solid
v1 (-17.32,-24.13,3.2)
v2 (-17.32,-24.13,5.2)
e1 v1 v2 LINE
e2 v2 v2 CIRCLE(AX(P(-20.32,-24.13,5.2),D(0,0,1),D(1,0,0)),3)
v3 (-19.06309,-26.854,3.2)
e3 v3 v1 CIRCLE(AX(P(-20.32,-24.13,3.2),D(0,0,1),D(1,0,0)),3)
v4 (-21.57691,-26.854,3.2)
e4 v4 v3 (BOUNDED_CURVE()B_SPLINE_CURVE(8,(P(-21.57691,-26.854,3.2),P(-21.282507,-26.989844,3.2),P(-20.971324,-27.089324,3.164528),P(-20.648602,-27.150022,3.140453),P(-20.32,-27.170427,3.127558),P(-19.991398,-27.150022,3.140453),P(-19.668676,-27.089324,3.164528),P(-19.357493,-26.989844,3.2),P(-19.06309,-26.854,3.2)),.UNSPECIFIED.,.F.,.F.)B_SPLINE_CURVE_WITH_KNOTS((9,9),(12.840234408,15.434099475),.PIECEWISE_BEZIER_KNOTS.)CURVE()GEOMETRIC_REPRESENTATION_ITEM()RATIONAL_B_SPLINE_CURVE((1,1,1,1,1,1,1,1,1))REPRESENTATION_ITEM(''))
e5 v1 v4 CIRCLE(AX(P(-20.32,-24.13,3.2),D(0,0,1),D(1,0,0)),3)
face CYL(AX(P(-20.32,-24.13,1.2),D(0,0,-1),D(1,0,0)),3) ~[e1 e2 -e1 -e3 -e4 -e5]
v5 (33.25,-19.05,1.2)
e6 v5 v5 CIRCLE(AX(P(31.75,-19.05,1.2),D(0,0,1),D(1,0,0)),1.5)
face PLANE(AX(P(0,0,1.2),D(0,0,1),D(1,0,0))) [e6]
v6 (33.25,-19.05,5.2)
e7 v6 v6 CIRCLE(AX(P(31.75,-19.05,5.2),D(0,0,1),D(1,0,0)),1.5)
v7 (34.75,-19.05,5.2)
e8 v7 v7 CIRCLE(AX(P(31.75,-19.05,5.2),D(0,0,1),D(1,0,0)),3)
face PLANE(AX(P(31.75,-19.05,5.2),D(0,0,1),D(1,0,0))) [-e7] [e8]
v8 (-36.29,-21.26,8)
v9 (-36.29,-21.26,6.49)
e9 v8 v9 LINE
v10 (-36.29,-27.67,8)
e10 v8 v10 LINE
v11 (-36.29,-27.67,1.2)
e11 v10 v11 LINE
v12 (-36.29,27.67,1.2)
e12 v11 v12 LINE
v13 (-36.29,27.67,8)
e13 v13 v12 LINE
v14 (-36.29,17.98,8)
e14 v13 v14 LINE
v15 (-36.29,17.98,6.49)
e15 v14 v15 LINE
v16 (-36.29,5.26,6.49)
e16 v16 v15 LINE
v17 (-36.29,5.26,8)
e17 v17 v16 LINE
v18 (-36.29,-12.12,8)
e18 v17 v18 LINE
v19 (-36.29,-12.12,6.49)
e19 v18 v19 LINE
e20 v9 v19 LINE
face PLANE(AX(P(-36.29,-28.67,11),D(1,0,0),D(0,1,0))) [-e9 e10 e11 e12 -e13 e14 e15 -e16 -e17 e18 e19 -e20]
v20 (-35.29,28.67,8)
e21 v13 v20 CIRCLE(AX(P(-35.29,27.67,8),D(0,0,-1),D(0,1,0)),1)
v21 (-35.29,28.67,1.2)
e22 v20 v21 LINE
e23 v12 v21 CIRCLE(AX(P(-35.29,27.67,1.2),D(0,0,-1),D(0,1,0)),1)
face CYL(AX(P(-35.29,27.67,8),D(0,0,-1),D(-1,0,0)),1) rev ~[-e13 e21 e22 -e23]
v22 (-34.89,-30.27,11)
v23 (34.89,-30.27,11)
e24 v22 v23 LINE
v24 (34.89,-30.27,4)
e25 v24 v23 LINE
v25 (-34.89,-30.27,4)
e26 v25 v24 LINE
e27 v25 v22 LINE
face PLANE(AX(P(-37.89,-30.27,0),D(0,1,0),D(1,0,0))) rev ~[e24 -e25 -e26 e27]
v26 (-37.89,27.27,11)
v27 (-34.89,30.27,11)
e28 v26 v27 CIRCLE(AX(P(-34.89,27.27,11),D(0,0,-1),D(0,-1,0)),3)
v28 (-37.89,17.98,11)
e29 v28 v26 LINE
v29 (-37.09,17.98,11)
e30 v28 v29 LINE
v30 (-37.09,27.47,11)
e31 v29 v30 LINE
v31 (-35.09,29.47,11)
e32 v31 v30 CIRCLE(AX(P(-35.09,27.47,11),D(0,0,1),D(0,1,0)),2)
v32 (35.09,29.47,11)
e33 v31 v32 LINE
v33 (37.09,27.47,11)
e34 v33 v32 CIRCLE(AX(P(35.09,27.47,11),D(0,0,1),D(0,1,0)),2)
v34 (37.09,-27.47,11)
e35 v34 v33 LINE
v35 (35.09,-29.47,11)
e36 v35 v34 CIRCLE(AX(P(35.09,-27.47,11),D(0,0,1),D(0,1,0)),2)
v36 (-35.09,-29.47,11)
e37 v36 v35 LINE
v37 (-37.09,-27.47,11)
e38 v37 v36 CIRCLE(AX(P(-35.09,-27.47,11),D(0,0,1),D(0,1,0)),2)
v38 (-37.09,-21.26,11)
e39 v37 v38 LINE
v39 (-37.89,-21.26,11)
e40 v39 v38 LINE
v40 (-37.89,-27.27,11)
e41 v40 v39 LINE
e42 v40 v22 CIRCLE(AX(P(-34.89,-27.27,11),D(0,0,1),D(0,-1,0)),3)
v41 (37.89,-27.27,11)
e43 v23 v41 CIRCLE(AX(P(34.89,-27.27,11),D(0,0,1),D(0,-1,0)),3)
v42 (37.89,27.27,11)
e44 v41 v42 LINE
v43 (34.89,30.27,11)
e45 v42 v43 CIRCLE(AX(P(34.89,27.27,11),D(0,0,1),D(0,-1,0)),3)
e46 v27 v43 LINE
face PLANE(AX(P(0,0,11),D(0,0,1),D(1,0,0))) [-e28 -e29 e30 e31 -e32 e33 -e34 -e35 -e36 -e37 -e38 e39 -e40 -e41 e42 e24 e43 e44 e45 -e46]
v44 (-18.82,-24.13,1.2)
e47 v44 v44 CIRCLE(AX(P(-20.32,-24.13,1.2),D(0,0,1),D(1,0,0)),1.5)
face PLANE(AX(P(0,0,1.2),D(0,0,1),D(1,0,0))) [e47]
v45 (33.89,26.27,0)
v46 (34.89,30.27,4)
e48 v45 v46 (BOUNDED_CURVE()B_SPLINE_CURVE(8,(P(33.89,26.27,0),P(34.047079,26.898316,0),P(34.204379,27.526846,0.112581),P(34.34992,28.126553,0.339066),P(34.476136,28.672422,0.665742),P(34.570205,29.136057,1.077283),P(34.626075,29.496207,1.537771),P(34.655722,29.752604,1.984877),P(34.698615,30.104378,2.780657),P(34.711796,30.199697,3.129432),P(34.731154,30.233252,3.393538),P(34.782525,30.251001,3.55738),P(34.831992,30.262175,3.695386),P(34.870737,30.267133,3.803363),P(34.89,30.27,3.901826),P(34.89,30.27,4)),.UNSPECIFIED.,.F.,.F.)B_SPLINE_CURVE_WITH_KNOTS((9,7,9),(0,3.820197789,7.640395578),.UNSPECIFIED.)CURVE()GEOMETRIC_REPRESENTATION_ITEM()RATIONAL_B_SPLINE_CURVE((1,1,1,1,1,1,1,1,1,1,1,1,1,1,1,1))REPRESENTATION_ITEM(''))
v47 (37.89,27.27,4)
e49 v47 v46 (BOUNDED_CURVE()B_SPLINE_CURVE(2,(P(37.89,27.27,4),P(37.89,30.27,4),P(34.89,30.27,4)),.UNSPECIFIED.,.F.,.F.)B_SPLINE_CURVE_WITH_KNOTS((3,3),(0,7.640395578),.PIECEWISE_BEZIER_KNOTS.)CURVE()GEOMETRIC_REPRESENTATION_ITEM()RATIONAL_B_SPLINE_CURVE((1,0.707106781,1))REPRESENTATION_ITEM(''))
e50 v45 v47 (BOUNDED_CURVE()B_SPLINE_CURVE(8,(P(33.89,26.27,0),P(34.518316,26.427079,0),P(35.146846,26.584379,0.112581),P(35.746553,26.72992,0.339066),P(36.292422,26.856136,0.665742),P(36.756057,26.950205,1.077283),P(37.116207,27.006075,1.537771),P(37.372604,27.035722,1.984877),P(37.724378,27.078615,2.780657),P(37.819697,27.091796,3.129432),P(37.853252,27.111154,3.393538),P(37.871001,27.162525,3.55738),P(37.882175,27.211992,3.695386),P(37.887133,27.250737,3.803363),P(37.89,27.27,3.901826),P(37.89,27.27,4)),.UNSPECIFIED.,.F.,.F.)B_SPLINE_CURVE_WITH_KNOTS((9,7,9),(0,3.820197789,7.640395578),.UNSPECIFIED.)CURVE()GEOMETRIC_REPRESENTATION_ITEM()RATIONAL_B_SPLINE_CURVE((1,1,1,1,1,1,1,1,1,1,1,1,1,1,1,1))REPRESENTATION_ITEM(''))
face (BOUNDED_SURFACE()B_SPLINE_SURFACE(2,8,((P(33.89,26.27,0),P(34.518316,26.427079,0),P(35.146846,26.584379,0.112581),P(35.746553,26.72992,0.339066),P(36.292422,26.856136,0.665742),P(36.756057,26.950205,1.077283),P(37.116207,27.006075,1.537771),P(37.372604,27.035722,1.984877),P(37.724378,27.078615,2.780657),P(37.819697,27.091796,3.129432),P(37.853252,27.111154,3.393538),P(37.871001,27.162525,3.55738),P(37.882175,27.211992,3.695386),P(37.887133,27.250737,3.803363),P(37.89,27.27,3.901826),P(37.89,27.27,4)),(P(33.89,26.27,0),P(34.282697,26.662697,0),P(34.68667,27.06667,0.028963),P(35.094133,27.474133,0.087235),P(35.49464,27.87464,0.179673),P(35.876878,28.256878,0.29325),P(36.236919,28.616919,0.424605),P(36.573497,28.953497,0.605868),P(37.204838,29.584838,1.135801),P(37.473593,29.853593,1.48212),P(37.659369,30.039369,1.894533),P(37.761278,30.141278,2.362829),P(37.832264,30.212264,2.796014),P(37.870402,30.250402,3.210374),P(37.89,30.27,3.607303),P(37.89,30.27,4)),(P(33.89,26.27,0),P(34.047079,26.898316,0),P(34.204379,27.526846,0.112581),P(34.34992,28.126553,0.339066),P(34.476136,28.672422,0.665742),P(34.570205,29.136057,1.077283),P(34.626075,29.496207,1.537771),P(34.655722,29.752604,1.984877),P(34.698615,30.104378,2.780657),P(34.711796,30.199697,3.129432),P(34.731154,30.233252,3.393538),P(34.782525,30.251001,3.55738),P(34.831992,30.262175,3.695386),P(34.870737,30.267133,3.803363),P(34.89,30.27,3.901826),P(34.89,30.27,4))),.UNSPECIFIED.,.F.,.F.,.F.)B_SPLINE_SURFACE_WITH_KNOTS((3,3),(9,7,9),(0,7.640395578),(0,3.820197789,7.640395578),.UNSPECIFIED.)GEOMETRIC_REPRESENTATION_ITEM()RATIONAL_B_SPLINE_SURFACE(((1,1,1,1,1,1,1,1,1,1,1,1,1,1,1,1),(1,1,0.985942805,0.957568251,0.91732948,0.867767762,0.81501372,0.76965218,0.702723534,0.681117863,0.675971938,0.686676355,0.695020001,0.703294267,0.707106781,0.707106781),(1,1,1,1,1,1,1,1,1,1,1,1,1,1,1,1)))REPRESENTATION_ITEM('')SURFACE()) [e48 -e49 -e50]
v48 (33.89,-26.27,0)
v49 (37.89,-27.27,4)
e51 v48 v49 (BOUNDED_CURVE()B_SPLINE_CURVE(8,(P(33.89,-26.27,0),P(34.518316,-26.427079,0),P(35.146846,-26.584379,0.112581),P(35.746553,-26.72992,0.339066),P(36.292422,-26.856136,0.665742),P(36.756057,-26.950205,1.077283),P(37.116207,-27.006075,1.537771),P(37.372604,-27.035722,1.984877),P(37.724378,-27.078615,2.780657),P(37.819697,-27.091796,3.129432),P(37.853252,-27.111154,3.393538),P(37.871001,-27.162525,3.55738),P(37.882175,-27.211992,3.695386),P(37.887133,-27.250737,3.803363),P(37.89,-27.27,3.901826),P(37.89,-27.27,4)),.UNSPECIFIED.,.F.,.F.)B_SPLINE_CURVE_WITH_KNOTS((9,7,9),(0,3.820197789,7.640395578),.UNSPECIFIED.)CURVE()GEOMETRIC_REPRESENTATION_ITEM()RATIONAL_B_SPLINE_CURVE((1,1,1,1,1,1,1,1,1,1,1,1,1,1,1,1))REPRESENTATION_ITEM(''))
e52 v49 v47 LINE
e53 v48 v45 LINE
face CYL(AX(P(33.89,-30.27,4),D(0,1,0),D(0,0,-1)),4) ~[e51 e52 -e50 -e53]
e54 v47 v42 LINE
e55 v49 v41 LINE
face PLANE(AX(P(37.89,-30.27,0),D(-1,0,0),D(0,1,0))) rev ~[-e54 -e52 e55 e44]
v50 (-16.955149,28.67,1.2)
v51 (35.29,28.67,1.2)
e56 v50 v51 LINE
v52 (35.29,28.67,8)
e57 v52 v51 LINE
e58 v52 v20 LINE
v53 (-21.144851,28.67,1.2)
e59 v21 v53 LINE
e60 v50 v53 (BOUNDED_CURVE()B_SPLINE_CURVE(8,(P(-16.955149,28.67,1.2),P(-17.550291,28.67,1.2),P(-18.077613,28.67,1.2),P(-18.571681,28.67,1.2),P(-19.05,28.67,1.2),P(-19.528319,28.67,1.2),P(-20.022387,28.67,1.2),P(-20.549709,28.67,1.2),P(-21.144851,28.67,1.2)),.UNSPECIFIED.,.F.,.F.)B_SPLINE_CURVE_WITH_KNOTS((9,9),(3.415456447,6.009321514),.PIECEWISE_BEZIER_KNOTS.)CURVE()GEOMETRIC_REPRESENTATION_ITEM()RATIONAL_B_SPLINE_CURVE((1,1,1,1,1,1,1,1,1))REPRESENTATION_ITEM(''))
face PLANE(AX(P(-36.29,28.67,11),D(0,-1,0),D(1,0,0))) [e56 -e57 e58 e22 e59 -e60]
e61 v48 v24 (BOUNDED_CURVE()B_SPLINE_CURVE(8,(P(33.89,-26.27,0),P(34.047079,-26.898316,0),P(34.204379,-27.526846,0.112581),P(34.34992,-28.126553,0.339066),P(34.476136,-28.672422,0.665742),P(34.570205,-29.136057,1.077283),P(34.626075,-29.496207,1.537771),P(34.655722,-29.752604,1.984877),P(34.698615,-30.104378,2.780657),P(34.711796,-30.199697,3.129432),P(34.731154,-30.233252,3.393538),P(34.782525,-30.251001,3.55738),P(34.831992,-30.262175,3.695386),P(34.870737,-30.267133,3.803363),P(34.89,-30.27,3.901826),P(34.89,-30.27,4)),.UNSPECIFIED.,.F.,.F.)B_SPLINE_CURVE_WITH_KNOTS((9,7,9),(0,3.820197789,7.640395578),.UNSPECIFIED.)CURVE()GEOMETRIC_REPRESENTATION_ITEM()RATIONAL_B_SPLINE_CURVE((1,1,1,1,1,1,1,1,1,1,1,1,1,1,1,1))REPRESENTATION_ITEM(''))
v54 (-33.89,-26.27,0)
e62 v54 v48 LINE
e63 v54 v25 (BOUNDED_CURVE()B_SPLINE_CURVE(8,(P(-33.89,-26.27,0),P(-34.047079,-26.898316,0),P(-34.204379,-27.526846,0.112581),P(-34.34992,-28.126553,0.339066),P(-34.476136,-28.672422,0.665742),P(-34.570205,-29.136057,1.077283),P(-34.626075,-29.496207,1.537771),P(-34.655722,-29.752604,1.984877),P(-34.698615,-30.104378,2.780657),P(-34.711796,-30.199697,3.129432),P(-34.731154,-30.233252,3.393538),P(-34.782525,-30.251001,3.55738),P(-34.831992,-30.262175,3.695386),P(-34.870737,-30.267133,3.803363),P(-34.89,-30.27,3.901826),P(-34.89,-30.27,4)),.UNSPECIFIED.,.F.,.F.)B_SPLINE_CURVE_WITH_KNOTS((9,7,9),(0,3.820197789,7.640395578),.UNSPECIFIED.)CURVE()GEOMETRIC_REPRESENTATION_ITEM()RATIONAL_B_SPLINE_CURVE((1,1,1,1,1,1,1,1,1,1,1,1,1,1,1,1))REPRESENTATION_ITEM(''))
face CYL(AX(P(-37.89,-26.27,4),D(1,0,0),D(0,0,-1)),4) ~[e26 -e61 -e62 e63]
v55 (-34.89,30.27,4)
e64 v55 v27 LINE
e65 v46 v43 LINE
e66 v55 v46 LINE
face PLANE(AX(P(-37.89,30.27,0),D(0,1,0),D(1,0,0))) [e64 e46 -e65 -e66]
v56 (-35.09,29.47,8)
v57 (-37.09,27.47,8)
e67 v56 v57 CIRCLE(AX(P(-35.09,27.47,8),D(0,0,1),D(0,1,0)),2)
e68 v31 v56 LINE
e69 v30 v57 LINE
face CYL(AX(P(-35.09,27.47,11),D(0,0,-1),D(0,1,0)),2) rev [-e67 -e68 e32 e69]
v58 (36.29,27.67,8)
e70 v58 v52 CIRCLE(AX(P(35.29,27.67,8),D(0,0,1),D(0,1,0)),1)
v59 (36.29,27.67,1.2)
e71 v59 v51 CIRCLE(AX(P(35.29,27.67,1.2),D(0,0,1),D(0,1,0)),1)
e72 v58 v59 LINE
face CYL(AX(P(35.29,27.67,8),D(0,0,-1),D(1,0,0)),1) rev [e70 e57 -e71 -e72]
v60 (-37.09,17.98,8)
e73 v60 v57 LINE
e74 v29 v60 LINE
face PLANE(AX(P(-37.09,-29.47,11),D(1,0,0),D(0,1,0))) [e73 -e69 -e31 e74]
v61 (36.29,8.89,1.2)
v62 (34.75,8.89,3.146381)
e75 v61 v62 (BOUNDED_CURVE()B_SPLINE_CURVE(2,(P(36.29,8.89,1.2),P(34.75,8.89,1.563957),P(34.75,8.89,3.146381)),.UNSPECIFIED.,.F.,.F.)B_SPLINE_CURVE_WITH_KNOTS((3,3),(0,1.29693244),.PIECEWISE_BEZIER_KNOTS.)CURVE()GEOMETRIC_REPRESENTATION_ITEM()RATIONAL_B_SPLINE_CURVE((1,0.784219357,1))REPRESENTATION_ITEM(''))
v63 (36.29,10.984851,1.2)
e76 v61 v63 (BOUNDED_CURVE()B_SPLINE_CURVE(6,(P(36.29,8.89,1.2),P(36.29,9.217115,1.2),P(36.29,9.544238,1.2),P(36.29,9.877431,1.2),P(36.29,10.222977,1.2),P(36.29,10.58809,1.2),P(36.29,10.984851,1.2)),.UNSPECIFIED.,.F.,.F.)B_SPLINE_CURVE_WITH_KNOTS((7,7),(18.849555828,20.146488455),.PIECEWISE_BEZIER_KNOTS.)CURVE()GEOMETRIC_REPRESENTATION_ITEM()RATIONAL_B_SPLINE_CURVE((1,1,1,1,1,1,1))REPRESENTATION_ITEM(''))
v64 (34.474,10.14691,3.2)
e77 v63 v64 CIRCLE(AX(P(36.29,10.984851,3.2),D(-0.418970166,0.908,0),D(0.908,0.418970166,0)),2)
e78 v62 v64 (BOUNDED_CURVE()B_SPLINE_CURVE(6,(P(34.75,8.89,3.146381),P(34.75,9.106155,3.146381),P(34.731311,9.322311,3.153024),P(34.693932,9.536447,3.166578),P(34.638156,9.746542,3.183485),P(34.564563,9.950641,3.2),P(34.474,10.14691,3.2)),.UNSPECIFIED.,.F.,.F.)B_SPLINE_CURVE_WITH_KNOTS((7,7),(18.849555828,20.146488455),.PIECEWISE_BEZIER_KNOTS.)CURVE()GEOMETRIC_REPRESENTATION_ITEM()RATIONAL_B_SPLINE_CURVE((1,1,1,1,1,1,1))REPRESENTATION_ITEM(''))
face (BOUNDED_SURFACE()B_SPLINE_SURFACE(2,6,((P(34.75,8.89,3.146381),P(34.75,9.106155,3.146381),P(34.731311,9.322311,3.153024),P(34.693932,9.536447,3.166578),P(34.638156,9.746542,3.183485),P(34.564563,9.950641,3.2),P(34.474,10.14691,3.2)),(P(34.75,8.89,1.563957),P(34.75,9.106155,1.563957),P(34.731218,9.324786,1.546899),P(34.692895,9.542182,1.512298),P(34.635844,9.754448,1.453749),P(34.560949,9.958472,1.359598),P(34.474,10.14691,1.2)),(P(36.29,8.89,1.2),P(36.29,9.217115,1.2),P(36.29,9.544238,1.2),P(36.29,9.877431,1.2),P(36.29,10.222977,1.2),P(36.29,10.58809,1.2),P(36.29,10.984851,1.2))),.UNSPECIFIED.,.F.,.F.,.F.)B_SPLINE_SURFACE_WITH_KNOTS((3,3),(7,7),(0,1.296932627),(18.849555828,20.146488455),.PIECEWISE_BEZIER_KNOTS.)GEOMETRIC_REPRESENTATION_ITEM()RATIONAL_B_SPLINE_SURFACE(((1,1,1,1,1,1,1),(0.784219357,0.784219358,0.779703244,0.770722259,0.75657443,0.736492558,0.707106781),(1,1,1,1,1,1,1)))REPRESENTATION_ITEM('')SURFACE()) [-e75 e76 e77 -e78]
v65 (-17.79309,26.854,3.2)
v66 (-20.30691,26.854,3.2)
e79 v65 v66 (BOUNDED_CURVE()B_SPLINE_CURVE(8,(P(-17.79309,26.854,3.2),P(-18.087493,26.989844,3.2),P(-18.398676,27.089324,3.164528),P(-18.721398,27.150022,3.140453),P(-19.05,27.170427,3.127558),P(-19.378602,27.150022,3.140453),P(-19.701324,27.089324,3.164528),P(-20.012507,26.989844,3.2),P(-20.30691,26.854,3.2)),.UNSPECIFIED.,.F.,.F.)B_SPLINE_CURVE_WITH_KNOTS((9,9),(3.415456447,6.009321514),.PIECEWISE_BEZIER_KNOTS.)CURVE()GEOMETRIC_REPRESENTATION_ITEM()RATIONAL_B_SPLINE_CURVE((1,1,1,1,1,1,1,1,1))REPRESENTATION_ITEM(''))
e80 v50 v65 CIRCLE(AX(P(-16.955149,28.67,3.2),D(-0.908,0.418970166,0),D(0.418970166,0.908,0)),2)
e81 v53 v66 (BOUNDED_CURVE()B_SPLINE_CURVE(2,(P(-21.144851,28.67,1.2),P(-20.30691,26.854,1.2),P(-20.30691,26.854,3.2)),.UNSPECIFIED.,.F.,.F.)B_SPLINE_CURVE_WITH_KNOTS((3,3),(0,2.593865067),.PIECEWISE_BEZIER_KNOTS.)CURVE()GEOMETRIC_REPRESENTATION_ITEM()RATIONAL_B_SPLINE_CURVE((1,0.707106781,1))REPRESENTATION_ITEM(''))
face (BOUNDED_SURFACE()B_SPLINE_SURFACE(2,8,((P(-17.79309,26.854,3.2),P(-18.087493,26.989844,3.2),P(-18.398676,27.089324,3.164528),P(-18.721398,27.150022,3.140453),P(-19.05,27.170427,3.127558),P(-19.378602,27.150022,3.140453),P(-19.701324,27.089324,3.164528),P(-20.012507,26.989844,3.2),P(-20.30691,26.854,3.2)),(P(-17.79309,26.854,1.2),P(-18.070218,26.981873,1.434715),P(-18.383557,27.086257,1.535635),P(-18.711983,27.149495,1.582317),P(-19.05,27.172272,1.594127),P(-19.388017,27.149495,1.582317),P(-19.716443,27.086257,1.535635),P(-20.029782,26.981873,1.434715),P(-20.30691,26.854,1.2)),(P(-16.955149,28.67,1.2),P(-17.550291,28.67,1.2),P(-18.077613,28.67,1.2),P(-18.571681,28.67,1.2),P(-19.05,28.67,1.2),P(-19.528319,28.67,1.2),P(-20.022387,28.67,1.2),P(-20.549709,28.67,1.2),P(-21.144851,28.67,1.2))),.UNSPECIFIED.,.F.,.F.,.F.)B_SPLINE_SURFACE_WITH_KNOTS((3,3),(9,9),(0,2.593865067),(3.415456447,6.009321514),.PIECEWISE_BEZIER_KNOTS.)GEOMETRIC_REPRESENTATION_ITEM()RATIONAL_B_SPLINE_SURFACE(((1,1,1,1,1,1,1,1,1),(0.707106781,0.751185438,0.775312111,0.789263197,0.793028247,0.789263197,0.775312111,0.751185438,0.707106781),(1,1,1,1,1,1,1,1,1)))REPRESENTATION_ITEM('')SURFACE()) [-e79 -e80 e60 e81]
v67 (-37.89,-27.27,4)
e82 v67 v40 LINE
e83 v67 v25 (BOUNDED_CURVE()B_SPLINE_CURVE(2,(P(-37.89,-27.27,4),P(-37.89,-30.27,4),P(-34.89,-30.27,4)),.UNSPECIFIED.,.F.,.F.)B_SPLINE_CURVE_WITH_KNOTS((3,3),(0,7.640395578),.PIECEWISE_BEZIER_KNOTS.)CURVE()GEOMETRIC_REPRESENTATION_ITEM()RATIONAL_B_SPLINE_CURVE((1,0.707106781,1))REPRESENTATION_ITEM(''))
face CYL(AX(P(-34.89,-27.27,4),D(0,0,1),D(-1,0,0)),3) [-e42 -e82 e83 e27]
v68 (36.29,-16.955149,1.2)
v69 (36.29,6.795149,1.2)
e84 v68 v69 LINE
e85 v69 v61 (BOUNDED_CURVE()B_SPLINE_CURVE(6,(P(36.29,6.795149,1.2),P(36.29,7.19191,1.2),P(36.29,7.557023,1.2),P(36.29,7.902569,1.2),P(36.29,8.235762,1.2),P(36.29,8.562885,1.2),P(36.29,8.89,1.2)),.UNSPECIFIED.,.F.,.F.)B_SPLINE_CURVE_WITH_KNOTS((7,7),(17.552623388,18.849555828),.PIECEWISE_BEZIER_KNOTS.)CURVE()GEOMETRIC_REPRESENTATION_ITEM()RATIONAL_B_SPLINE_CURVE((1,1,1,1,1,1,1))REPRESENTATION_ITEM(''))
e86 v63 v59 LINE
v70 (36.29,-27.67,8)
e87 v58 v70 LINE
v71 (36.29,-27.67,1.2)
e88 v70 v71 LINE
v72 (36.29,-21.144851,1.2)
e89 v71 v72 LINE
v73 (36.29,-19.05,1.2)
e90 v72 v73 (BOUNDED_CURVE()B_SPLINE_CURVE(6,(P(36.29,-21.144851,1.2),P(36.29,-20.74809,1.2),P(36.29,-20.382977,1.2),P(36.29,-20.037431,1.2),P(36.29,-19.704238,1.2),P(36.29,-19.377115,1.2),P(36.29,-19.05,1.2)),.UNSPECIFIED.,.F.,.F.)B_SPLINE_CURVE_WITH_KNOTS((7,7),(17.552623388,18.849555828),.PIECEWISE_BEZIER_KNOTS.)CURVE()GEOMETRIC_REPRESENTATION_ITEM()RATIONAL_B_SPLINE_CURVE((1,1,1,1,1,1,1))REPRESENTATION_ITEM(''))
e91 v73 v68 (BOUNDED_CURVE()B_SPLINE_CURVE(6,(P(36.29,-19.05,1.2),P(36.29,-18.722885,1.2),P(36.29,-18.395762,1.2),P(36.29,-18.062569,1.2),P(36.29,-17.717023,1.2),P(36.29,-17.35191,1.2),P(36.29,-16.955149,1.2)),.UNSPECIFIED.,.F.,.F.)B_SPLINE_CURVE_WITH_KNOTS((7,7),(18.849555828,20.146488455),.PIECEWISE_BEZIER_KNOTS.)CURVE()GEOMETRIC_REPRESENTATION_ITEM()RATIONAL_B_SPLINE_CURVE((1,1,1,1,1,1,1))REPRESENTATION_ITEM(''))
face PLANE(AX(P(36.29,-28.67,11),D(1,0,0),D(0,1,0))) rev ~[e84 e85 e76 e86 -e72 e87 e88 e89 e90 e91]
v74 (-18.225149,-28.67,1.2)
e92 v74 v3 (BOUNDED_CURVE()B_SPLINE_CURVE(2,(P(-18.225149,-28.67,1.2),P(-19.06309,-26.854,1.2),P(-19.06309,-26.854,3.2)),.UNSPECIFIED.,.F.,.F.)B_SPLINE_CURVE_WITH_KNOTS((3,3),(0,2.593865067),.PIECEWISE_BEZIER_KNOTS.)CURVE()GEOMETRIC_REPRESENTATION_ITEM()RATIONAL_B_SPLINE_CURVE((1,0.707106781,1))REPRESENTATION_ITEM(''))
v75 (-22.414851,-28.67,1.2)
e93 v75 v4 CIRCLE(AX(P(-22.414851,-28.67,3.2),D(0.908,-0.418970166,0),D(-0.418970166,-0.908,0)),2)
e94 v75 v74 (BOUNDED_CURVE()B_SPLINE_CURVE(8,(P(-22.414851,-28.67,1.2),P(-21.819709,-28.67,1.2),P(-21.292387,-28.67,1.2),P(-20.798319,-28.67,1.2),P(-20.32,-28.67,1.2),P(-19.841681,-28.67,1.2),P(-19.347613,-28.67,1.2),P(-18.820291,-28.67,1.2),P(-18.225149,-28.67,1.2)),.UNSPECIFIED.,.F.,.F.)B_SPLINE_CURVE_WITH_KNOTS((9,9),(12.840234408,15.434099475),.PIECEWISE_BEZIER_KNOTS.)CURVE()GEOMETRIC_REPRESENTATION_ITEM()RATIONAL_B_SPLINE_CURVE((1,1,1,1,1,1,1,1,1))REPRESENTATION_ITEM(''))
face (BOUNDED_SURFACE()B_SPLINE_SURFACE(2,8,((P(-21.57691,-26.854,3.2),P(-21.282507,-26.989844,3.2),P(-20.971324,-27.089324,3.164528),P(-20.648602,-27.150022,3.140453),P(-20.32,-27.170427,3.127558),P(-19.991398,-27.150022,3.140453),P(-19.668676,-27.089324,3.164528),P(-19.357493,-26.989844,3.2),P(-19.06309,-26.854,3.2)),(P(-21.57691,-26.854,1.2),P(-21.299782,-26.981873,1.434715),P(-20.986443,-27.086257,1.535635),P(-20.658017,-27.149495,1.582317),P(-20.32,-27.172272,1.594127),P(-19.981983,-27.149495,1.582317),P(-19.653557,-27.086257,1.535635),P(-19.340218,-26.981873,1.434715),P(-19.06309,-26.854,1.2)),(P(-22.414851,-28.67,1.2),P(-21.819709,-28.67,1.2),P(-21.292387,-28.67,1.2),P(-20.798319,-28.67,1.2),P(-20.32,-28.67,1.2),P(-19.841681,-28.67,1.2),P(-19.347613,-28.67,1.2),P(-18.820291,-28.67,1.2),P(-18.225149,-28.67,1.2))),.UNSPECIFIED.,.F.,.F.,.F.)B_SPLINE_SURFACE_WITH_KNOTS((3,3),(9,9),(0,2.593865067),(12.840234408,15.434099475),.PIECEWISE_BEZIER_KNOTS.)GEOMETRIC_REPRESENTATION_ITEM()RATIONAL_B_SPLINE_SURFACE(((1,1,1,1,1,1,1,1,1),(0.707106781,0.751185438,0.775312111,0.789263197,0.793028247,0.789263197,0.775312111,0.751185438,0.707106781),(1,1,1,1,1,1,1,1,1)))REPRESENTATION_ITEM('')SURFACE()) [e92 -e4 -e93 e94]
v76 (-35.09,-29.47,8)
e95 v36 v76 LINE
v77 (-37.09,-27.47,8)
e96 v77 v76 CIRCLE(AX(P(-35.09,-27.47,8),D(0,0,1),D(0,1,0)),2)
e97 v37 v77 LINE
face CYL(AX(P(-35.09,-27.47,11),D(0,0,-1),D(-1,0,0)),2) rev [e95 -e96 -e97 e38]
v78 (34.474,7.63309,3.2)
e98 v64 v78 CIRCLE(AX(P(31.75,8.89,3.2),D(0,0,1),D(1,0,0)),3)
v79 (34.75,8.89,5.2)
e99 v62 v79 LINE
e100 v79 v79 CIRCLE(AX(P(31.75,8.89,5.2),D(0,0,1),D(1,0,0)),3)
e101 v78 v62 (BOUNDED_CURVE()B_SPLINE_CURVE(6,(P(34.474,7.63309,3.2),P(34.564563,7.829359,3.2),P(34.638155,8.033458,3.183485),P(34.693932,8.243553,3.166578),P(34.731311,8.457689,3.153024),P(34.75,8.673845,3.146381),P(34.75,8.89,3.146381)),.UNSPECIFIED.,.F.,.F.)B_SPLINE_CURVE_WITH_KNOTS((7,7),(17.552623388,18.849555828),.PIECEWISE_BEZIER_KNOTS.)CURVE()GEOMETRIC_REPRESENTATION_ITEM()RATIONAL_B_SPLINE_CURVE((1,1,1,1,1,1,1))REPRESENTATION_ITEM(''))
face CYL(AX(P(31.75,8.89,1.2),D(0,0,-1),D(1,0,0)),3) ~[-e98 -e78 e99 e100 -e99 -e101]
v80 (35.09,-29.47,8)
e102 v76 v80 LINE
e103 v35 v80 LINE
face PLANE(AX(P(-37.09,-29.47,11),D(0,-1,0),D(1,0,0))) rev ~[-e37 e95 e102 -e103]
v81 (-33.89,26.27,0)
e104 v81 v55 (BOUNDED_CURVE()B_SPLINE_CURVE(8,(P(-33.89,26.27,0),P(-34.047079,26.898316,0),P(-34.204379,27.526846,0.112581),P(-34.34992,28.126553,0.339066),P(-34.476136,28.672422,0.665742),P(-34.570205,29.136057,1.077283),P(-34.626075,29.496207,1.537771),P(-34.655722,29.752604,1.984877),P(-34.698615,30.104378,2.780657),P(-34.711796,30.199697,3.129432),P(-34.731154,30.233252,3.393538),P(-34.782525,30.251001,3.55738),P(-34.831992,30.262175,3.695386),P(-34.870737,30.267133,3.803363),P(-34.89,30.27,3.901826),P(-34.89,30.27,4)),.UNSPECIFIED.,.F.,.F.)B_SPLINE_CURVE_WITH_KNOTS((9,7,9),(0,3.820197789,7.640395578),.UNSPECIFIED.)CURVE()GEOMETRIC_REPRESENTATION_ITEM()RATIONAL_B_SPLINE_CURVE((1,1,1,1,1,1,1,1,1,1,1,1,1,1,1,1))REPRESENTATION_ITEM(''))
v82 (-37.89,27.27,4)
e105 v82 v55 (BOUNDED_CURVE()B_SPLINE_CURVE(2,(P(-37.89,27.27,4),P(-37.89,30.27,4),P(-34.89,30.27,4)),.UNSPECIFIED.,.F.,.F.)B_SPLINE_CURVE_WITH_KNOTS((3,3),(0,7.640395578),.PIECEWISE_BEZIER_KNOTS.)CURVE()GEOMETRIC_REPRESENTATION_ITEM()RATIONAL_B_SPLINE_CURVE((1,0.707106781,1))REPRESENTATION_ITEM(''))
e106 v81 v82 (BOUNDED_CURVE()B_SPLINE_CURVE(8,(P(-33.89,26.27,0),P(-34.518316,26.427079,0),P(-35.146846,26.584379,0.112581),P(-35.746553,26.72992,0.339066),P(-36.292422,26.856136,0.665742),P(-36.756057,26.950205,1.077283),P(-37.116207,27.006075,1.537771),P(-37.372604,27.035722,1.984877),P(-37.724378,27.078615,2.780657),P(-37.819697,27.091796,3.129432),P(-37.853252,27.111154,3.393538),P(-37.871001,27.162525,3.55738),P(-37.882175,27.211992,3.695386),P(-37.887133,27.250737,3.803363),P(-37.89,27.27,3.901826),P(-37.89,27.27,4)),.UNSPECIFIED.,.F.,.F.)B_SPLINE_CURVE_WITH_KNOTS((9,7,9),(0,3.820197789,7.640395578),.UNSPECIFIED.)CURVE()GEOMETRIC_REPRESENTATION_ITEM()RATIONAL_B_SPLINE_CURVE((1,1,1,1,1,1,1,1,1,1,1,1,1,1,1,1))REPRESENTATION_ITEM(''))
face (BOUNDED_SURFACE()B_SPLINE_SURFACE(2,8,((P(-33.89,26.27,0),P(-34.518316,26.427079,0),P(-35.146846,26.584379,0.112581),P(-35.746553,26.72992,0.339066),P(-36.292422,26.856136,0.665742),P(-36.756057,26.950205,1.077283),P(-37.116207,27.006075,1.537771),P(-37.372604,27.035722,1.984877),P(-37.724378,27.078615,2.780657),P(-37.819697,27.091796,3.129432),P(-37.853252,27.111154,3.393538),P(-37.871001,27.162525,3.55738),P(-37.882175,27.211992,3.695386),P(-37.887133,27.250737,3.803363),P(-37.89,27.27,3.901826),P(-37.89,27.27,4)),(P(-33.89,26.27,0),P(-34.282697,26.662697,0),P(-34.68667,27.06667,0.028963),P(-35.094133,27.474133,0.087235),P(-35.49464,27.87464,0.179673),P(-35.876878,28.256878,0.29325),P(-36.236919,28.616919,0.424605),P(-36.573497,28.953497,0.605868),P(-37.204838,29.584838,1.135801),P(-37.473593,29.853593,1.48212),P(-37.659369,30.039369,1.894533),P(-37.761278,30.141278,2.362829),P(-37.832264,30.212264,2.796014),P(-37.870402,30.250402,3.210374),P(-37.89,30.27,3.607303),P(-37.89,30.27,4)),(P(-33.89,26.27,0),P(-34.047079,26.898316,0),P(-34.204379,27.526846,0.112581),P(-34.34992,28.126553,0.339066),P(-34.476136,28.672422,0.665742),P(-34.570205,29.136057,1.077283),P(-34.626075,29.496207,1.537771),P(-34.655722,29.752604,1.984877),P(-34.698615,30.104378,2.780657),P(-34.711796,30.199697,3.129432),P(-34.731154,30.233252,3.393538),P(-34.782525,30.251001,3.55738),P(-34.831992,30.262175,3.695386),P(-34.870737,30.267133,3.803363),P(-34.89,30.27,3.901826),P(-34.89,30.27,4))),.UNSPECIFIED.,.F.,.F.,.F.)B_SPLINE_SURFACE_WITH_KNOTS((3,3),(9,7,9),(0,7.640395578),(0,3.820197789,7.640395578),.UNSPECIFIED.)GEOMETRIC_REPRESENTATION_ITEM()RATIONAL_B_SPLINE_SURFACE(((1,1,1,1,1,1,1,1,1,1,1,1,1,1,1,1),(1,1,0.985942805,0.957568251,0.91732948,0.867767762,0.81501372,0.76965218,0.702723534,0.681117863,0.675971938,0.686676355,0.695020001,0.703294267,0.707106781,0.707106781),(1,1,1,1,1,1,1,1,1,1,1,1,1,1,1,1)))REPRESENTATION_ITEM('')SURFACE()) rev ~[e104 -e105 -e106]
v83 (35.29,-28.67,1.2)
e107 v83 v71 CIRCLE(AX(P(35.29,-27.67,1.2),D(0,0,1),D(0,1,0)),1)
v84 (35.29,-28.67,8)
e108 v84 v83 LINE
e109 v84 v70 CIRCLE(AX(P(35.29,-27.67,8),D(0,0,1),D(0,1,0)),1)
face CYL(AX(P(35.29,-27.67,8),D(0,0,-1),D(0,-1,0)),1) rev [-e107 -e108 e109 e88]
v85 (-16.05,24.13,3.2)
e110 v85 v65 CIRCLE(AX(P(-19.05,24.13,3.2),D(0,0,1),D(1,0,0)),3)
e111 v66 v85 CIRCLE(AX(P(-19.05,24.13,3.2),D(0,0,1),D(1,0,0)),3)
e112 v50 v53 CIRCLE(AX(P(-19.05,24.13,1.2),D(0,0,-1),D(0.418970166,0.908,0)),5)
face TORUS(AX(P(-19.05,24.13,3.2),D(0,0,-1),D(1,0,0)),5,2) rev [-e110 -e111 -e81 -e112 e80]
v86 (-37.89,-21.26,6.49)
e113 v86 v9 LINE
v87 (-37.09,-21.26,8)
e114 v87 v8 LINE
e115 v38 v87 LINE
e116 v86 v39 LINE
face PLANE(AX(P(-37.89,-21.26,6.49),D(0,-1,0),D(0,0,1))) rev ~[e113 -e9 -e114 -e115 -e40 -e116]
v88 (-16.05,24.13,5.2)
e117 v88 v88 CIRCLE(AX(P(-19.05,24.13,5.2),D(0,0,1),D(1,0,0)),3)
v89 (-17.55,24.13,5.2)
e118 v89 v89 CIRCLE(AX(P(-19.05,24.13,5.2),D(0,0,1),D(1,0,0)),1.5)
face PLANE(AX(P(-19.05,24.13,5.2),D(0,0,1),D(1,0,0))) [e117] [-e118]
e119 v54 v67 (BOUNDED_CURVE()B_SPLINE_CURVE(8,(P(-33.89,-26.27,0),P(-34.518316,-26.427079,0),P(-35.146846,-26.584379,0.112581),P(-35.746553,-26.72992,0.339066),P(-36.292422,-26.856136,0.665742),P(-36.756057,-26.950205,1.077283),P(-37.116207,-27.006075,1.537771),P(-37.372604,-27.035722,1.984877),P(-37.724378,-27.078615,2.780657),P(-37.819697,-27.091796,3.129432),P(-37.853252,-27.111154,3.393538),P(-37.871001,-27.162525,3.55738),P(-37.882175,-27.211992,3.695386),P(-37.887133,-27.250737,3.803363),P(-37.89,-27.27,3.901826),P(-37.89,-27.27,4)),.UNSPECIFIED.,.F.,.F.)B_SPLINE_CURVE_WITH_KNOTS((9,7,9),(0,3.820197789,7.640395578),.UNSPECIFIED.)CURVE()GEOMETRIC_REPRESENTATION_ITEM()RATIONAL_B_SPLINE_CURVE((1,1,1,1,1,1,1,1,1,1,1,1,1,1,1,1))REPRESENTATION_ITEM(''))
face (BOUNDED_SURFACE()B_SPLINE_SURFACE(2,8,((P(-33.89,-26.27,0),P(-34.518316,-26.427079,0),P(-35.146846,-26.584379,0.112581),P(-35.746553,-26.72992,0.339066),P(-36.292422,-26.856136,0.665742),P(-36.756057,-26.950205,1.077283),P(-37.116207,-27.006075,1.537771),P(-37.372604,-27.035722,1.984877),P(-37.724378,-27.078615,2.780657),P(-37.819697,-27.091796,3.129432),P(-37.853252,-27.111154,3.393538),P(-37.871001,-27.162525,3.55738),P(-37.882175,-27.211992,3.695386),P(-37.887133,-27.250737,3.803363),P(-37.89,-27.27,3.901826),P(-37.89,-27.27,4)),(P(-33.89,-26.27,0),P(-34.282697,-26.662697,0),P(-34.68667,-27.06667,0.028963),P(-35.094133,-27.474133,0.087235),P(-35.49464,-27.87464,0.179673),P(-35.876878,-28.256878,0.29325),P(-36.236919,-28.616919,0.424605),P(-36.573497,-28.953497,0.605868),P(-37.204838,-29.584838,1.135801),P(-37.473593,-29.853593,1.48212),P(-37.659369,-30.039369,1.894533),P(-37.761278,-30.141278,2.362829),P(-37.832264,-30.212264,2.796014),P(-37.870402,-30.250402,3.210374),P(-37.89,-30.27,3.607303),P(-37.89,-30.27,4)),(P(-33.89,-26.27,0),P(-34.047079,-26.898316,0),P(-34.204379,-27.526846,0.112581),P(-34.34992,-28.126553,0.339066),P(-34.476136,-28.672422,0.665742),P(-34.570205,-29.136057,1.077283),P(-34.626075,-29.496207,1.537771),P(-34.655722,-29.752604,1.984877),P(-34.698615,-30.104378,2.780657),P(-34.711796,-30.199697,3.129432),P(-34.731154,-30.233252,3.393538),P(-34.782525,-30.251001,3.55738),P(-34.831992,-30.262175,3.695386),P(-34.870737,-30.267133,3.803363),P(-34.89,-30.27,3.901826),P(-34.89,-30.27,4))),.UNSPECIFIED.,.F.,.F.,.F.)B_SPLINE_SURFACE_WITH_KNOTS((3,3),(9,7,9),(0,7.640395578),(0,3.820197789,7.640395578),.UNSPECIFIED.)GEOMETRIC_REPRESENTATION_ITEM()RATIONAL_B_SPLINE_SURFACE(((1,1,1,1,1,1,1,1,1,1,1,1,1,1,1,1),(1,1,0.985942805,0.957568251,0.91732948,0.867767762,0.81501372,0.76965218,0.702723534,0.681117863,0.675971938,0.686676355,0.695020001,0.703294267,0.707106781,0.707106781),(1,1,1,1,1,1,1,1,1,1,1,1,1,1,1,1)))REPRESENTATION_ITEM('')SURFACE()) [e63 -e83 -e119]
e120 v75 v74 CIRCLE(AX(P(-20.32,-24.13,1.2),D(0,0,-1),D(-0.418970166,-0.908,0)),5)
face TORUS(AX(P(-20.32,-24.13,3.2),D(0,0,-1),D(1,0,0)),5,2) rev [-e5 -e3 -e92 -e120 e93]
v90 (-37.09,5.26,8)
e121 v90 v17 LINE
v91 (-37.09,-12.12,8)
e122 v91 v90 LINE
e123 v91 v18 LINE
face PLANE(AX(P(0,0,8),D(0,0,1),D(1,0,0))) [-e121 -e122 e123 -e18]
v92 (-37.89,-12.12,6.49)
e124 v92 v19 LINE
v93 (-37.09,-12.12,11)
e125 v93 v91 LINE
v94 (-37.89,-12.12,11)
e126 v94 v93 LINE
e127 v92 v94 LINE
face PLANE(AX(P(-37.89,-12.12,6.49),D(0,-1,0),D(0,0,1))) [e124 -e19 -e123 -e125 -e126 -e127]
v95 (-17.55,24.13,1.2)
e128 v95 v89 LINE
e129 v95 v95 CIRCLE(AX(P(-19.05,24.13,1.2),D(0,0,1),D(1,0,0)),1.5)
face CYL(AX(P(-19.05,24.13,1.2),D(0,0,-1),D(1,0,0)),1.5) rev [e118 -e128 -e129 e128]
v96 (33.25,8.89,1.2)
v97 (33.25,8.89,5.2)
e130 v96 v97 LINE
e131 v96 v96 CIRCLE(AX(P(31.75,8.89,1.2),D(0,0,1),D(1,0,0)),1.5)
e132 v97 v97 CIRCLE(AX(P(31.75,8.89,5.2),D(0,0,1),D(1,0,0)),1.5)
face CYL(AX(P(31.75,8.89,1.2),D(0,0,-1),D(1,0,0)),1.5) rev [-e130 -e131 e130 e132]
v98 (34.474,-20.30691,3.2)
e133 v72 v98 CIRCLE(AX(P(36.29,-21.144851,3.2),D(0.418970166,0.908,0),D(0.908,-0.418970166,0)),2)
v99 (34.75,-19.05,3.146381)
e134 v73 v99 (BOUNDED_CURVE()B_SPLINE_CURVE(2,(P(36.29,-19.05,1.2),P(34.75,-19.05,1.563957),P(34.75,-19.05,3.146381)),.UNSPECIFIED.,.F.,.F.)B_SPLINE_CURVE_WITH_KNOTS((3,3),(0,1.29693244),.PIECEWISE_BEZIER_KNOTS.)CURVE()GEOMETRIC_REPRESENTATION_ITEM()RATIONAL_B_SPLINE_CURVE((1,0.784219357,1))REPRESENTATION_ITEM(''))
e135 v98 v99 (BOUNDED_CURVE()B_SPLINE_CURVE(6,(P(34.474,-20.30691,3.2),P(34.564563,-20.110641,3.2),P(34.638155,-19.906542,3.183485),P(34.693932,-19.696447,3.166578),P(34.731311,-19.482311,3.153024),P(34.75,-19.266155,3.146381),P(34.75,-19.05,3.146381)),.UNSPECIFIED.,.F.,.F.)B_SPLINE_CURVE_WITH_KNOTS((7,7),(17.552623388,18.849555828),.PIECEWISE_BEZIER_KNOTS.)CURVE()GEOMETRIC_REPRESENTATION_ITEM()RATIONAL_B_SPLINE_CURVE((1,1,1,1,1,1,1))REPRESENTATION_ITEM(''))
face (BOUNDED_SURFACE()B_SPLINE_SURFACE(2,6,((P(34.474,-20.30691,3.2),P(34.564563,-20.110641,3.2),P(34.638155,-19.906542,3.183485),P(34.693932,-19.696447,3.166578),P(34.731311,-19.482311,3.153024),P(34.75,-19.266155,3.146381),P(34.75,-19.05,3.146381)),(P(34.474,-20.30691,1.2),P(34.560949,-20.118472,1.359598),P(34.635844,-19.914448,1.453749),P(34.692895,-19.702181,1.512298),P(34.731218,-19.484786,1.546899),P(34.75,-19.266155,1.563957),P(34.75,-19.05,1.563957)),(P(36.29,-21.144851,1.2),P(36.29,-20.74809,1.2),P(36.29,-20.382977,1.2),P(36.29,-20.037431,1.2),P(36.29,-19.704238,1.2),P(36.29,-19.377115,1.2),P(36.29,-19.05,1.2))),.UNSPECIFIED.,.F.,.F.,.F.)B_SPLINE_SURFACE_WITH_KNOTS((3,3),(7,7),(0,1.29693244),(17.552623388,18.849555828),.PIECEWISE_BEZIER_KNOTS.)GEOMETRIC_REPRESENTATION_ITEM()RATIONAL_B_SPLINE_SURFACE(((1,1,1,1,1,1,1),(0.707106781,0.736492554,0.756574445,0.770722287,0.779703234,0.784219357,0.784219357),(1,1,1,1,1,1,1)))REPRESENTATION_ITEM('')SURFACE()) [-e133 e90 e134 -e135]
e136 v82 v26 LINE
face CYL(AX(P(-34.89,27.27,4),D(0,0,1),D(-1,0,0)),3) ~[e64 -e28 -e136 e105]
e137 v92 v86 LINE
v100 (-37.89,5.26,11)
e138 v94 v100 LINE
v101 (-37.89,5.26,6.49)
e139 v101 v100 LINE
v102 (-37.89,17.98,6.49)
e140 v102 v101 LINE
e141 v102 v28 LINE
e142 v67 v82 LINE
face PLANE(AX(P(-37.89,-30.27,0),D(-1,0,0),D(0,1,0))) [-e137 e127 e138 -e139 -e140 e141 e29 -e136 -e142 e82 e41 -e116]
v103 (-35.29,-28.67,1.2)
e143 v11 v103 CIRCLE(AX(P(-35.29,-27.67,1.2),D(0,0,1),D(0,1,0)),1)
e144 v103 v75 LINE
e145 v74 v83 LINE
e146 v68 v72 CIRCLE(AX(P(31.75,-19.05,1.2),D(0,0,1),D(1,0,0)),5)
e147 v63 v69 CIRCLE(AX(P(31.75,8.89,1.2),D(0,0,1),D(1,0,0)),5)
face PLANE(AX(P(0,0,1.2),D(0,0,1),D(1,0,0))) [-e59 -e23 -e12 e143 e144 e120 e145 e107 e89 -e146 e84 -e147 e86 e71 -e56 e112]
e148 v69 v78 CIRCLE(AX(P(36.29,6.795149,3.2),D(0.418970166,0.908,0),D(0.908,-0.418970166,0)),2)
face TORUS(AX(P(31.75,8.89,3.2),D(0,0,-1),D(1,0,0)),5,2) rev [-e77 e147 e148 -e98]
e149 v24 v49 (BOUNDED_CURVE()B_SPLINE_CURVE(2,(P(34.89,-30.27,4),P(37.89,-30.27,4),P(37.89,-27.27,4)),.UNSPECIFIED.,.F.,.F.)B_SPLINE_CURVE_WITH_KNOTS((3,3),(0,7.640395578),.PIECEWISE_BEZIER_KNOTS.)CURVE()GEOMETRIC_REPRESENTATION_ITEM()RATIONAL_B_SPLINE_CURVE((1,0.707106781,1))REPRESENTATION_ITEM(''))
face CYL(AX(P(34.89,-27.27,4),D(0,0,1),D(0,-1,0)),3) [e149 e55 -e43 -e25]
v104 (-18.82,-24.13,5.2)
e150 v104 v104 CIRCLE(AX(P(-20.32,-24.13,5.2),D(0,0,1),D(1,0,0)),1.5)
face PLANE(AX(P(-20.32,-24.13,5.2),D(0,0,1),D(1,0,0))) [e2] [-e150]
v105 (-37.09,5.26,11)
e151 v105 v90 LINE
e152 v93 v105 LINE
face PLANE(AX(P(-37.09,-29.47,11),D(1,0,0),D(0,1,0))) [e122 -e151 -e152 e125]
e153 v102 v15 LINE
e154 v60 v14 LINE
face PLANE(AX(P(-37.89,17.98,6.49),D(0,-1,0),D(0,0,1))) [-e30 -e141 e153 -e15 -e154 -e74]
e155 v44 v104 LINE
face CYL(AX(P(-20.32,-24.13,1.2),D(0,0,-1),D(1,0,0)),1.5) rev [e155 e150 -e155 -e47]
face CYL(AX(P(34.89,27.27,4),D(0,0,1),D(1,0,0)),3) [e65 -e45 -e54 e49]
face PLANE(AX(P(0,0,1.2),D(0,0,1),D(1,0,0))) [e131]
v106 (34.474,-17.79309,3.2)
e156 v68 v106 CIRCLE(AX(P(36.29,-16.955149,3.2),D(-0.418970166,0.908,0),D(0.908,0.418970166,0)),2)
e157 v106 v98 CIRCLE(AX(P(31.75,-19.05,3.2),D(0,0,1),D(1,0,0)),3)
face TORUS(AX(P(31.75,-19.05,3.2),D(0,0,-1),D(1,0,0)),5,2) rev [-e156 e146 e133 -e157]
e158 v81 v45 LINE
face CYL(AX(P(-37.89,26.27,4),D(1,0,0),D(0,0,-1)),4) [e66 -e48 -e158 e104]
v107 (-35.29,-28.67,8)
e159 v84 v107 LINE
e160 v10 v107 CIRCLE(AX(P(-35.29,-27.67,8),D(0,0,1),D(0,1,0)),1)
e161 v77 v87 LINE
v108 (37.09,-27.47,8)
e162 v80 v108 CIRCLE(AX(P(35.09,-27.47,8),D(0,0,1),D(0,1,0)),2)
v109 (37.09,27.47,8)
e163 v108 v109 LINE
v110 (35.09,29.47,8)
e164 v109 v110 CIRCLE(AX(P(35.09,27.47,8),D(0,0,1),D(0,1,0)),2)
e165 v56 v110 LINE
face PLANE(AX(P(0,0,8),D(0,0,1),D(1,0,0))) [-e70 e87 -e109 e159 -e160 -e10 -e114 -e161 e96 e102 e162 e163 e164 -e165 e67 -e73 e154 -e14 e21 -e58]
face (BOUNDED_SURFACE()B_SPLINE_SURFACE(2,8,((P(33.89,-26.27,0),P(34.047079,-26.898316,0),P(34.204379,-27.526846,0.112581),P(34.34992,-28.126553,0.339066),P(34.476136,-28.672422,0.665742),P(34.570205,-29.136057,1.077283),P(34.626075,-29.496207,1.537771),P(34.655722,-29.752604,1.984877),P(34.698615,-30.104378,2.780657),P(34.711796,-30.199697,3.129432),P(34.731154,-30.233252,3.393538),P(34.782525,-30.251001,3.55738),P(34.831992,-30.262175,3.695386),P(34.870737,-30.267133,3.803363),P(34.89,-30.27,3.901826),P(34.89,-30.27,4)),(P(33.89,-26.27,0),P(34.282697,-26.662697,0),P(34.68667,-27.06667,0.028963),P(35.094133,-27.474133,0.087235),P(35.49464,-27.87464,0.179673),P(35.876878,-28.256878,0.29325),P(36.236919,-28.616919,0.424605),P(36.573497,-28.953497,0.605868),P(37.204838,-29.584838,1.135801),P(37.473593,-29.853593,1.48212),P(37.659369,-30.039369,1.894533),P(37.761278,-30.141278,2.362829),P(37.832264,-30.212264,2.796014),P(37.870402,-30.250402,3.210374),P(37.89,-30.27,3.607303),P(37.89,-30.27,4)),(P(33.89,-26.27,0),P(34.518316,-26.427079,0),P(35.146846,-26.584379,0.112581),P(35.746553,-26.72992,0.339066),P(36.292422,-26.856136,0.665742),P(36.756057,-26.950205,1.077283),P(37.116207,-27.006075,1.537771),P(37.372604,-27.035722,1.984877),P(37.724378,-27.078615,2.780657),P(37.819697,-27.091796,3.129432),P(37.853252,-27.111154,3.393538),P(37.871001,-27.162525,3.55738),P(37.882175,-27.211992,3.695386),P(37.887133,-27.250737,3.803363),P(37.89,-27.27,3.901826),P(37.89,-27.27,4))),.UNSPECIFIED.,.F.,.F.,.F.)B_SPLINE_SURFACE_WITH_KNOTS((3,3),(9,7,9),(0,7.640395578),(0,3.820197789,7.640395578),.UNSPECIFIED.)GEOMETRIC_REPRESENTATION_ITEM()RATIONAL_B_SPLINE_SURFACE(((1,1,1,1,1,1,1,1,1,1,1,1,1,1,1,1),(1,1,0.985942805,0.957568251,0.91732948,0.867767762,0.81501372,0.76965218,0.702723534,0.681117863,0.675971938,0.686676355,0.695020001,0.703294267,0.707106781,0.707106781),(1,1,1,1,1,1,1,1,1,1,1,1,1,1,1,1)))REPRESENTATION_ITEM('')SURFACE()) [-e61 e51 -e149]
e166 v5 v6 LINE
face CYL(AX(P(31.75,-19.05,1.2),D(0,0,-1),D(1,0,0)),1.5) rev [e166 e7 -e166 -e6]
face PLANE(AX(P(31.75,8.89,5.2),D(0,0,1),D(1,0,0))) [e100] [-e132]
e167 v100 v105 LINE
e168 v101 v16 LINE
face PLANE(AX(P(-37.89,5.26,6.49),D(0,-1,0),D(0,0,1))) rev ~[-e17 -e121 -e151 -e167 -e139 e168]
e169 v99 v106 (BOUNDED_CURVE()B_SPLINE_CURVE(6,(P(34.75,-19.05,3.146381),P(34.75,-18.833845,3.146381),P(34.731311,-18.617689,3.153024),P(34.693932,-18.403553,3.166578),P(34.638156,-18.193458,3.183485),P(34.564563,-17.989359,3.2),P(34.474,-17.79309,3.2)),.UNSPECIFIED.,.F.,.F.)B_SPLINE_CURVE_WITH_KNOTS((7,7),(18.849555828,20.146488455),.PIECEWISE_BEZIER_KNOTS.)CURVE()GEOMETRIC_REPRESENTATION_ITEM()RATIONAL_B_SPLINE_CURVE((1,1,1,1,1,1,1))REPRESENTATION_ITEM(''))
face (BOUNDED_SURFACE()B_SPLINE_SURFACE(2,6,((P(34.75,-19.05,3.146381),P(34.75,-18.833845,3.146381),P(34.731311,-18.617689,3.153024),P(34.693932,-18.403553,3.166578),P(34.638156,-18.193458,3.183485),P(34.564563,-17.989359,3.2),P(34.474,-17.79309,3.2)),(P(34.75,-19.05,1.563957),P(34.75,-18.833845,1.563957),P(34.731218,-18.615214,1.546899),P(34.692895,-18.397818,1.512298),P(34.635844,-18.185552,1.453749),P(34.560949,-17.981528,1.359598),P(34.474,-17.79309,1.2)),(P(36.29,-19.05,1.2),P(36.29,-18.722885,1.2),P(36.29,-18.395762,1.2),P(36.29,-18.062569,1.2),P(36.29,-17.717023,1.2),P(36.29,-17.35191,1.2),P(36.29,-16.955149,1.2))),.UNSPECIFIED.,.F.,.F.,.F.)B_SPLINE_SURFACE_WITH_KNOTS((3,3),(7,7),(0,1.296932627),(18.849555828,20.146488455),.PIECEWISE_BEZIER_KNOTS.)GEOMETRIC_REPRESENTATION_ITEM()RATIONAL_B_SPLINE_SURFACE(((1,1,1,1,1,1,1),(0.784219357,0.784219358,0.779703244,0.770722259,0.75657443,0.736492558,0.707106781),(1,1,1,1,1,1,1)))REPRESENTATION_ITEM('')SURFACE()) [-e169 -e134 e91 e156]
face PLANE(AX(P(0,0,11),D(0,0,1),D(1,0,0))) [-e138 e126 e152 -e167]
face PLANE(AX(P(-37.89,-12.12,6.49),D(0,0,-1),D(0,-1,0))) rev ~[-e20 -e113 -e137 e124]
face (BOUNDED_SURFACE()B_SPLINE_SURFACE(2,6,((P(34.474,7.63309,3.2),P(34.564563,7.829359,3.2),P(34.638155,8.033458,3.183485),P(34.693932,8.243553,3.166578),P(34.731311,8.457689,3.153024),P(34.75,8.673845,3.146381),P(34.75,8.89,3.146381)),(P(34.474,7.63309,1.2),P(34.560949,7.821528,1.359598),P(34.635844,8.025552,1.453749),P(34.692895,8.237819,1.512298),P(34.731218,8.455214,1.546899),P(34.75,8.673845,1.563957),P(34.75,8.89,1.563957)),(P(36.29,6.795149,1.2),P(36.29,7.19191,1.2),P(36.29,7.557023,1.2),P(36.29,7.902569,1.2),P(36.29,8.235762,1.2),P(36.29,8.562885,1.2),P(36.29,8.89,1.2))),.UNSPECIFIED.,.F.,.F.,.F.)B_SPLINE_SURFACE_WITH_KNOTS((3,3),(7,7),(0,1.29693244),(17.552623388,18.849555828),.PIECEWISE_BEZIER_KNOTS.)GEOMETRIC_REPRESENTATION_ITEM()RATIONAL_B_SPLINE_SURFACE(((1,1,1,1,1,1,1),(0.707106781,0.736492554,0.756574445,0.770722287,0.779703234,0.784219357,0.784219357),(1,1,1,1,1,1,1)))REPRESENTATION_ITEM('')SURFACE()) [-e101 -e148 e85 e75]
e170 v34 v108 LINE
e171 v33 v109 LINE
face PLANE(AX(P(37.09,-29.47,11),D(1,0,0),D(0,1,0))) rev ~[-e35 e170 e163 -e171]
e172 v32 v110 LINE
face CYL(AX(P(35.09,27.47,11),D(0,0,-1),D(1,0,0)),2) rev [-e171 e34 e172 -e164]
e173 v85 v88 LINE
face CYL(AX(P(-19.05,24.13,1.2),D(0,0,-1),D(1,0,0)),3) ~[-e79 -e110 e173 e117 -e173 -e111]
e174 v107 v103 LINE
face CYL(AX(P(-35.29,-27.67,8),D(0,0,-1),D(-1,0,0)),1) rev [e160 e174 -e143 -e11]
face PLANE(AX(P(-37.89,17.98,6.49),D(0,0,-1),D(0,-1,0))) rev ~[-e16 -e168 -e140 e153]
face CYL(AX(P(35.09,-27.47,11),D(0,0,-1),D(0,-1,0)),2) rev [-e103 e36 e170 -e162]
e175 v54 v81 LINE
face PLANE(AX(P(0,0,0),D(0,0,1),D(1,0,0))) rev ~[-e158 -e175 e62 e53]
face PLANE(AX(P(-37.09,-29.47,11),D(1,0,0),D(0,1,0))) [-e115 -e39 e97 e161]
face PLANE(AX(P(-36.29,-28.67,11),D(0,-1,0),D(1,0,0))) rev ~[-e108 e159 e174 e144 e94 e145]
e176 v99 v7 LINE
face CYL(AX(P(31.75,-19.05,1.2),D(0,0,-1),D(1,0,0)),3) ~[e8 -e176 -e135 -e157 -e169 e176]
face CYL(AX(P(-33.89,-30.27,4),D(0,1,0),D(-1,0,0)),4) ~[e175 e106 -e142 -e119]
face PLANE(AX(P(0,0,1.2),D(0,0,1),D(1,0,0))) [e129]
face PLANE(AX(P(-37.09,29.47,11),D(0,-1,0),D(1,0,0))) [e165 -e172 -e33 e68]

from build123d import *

# Parameters (mm, degrees)
SKETCH001_W     = 75.78
SKETCH001_H     = 60.54
PAD_DEPTH       = 11
SKETCH002_W     = 72.58
SKETCH002_H     = 57.34
POCKET_DEPTH    = 9.8
SKETCH005_W     = 74.18
SKETCH005_H     = 58.94
POCKET001_DEPTH = 3
SKETCH003_R     = 3
SKETCH003_R_2   = 1.5
PAD001_DEPTH    = 4
SKETCH004_W     = 12.72
SKETCH004_H     = 10.8
SKETCH004_W_2   = 9.14
POCKET002_DEPTH = 5
FILLET_R        = 4
FILLET001_R     = 1
FILLET002_R     = 2
FILLET003_R     = 3
FILLET004_R     = 2


with BuildPart() as part:
    # Sketch001 → Pad (new body)
    with BuildSketch(Plane.XY):
        Rectangle(SKETCH001_W, SKETCH001_H)
    extrude(amount=PAD_DEPTH)

    # Sketch002 (on Face6 of Pad) → Pocket (cut)
    with BuildSketch(Plane.XY.offset(11)):
        Rectangle(SKETCH002_W, SKETCH002_H)
    extrude(amount=-POCKET_DEPTH, mode=Mode.SUBTRACT)

    # Sketch005 (on DatumPlane) → Pocket001 (cut)
    with BuildSketch(Plane.XY.offset(11)):
        Rectangle(SKETCH005_W, SKETCH005_H)
    extrude(amount=-POCKET001_DEPTH, mode=Mode.SUBTRACT)

    # Sketch003 (on Face11 of Pocket) → Pad001 (join)
    with BuildSketch(Plane.XY.offset(1.2)):
        with Locations((-19.05, 24.13)):
            Circle(SKETCH003_R)
        with Locations((-19.05, 24.13)):
            Circle(SKETCH003_R_2, mode=Mode.SUBTRACT)
        with Locations((31.75, 8.89)):
            Circle(SKETCH003_R)
        with Locations((31.75, 8.89)):
            Circle(SKETCH003_R_2, mode=Mode.SUBTRACT)
        with Locations((-20.32, -24.13)):
            Circle(SKETCH003_R)
        with Locations((-20.32, -24.13)):
            Circle(SKETCH003_R_2, mode=Mode.SUBTRACT)
        with Locations((31.75, -19.05)):
            Circle(SKETCH003_R)
        with Locations((31.75, -19.05)):
            Circle(SKETCH003_R_2, mode=Mode.SUBTRACT)
    extrude(amount=PAD001_DEPTH)

    # Sketch004 (on Face2 of Pad001) → Pocket002 (cut)
    with BuildSketch(Plane(origin=(-37.89, 0, 0), x_dir=(0, -1, 0), z_dir=(-1, 0, 0))):
        with Locations((-11.62, 11.89)):
            Rectangle(SKETCH004_W, SKETCH004_H)
        with Locations((16.69, 11.89)):
            Rectangle(SKETCH004_W_2, SKETCH004_H)
    extrude(amount=-POCKET002_DEPTH, mode=Mode.SUBTRACT)

    # Fillet
    fillet_edges = [part.edges().sort_by_distance(p)[0] for p in [
        (0, 30.27, 0),
        (37.89, 0, 0),
        (0, -30.27, 0),
        (-37.89, 0, 0),
    ]]
    fillet(fillet_edges, radius=FILLET_R)

    # Fillet001
    fillet001_edges = [part.edges().sort_by_distance(p)[0] for p in [
        (36.29, 28.67, 4.6),
        (36.29, -28.67, 4.6),
        (-36.29, -28.67, 4.6),
        (-36.29, 28.67, 4.6),
    ]]
    fillet(fillet001_edges, radius=FILLET001_R)

    # Fillet002
    fillet002_edges = [part.edges().sort_by_distance(p)[0] for p in [
        (-37.09, -29.47, 9.5),
        (-37.09, 29.47, 9.5),
        (37.09, 29.47, 9.5),
        (37.09, -29.47, 9.5),
    ]]
    fillet(fillet002_edges, radius=FILLET002_R)

    # Fillet003
    fillet003_edges = [part.edges().sort_by_distance(p)[0] for p in [
        (-37.89, -30.27, 7.5),
        (37.89, -30.27, 7.5),
        (37.89, 30.27, 7.5),
        (-37.89, 30.27, 7.5),
    ]]
    fillet(fillet003_edges, radius=FILLET003_R)

    # Fillet004
    fillet004_edges = [part.edges().sort_by_distance(p)[0] for p in [
        (-22.05, 24.13, 1.2),
        (28.75, 8.89, 1.2),
        (28.75, -19.05, 1.2),
        (-23.32, -24.13, 1.2),
    ]]
    fillet(fillet004_edges, radius=FILLET004_R)


solid = part.part
